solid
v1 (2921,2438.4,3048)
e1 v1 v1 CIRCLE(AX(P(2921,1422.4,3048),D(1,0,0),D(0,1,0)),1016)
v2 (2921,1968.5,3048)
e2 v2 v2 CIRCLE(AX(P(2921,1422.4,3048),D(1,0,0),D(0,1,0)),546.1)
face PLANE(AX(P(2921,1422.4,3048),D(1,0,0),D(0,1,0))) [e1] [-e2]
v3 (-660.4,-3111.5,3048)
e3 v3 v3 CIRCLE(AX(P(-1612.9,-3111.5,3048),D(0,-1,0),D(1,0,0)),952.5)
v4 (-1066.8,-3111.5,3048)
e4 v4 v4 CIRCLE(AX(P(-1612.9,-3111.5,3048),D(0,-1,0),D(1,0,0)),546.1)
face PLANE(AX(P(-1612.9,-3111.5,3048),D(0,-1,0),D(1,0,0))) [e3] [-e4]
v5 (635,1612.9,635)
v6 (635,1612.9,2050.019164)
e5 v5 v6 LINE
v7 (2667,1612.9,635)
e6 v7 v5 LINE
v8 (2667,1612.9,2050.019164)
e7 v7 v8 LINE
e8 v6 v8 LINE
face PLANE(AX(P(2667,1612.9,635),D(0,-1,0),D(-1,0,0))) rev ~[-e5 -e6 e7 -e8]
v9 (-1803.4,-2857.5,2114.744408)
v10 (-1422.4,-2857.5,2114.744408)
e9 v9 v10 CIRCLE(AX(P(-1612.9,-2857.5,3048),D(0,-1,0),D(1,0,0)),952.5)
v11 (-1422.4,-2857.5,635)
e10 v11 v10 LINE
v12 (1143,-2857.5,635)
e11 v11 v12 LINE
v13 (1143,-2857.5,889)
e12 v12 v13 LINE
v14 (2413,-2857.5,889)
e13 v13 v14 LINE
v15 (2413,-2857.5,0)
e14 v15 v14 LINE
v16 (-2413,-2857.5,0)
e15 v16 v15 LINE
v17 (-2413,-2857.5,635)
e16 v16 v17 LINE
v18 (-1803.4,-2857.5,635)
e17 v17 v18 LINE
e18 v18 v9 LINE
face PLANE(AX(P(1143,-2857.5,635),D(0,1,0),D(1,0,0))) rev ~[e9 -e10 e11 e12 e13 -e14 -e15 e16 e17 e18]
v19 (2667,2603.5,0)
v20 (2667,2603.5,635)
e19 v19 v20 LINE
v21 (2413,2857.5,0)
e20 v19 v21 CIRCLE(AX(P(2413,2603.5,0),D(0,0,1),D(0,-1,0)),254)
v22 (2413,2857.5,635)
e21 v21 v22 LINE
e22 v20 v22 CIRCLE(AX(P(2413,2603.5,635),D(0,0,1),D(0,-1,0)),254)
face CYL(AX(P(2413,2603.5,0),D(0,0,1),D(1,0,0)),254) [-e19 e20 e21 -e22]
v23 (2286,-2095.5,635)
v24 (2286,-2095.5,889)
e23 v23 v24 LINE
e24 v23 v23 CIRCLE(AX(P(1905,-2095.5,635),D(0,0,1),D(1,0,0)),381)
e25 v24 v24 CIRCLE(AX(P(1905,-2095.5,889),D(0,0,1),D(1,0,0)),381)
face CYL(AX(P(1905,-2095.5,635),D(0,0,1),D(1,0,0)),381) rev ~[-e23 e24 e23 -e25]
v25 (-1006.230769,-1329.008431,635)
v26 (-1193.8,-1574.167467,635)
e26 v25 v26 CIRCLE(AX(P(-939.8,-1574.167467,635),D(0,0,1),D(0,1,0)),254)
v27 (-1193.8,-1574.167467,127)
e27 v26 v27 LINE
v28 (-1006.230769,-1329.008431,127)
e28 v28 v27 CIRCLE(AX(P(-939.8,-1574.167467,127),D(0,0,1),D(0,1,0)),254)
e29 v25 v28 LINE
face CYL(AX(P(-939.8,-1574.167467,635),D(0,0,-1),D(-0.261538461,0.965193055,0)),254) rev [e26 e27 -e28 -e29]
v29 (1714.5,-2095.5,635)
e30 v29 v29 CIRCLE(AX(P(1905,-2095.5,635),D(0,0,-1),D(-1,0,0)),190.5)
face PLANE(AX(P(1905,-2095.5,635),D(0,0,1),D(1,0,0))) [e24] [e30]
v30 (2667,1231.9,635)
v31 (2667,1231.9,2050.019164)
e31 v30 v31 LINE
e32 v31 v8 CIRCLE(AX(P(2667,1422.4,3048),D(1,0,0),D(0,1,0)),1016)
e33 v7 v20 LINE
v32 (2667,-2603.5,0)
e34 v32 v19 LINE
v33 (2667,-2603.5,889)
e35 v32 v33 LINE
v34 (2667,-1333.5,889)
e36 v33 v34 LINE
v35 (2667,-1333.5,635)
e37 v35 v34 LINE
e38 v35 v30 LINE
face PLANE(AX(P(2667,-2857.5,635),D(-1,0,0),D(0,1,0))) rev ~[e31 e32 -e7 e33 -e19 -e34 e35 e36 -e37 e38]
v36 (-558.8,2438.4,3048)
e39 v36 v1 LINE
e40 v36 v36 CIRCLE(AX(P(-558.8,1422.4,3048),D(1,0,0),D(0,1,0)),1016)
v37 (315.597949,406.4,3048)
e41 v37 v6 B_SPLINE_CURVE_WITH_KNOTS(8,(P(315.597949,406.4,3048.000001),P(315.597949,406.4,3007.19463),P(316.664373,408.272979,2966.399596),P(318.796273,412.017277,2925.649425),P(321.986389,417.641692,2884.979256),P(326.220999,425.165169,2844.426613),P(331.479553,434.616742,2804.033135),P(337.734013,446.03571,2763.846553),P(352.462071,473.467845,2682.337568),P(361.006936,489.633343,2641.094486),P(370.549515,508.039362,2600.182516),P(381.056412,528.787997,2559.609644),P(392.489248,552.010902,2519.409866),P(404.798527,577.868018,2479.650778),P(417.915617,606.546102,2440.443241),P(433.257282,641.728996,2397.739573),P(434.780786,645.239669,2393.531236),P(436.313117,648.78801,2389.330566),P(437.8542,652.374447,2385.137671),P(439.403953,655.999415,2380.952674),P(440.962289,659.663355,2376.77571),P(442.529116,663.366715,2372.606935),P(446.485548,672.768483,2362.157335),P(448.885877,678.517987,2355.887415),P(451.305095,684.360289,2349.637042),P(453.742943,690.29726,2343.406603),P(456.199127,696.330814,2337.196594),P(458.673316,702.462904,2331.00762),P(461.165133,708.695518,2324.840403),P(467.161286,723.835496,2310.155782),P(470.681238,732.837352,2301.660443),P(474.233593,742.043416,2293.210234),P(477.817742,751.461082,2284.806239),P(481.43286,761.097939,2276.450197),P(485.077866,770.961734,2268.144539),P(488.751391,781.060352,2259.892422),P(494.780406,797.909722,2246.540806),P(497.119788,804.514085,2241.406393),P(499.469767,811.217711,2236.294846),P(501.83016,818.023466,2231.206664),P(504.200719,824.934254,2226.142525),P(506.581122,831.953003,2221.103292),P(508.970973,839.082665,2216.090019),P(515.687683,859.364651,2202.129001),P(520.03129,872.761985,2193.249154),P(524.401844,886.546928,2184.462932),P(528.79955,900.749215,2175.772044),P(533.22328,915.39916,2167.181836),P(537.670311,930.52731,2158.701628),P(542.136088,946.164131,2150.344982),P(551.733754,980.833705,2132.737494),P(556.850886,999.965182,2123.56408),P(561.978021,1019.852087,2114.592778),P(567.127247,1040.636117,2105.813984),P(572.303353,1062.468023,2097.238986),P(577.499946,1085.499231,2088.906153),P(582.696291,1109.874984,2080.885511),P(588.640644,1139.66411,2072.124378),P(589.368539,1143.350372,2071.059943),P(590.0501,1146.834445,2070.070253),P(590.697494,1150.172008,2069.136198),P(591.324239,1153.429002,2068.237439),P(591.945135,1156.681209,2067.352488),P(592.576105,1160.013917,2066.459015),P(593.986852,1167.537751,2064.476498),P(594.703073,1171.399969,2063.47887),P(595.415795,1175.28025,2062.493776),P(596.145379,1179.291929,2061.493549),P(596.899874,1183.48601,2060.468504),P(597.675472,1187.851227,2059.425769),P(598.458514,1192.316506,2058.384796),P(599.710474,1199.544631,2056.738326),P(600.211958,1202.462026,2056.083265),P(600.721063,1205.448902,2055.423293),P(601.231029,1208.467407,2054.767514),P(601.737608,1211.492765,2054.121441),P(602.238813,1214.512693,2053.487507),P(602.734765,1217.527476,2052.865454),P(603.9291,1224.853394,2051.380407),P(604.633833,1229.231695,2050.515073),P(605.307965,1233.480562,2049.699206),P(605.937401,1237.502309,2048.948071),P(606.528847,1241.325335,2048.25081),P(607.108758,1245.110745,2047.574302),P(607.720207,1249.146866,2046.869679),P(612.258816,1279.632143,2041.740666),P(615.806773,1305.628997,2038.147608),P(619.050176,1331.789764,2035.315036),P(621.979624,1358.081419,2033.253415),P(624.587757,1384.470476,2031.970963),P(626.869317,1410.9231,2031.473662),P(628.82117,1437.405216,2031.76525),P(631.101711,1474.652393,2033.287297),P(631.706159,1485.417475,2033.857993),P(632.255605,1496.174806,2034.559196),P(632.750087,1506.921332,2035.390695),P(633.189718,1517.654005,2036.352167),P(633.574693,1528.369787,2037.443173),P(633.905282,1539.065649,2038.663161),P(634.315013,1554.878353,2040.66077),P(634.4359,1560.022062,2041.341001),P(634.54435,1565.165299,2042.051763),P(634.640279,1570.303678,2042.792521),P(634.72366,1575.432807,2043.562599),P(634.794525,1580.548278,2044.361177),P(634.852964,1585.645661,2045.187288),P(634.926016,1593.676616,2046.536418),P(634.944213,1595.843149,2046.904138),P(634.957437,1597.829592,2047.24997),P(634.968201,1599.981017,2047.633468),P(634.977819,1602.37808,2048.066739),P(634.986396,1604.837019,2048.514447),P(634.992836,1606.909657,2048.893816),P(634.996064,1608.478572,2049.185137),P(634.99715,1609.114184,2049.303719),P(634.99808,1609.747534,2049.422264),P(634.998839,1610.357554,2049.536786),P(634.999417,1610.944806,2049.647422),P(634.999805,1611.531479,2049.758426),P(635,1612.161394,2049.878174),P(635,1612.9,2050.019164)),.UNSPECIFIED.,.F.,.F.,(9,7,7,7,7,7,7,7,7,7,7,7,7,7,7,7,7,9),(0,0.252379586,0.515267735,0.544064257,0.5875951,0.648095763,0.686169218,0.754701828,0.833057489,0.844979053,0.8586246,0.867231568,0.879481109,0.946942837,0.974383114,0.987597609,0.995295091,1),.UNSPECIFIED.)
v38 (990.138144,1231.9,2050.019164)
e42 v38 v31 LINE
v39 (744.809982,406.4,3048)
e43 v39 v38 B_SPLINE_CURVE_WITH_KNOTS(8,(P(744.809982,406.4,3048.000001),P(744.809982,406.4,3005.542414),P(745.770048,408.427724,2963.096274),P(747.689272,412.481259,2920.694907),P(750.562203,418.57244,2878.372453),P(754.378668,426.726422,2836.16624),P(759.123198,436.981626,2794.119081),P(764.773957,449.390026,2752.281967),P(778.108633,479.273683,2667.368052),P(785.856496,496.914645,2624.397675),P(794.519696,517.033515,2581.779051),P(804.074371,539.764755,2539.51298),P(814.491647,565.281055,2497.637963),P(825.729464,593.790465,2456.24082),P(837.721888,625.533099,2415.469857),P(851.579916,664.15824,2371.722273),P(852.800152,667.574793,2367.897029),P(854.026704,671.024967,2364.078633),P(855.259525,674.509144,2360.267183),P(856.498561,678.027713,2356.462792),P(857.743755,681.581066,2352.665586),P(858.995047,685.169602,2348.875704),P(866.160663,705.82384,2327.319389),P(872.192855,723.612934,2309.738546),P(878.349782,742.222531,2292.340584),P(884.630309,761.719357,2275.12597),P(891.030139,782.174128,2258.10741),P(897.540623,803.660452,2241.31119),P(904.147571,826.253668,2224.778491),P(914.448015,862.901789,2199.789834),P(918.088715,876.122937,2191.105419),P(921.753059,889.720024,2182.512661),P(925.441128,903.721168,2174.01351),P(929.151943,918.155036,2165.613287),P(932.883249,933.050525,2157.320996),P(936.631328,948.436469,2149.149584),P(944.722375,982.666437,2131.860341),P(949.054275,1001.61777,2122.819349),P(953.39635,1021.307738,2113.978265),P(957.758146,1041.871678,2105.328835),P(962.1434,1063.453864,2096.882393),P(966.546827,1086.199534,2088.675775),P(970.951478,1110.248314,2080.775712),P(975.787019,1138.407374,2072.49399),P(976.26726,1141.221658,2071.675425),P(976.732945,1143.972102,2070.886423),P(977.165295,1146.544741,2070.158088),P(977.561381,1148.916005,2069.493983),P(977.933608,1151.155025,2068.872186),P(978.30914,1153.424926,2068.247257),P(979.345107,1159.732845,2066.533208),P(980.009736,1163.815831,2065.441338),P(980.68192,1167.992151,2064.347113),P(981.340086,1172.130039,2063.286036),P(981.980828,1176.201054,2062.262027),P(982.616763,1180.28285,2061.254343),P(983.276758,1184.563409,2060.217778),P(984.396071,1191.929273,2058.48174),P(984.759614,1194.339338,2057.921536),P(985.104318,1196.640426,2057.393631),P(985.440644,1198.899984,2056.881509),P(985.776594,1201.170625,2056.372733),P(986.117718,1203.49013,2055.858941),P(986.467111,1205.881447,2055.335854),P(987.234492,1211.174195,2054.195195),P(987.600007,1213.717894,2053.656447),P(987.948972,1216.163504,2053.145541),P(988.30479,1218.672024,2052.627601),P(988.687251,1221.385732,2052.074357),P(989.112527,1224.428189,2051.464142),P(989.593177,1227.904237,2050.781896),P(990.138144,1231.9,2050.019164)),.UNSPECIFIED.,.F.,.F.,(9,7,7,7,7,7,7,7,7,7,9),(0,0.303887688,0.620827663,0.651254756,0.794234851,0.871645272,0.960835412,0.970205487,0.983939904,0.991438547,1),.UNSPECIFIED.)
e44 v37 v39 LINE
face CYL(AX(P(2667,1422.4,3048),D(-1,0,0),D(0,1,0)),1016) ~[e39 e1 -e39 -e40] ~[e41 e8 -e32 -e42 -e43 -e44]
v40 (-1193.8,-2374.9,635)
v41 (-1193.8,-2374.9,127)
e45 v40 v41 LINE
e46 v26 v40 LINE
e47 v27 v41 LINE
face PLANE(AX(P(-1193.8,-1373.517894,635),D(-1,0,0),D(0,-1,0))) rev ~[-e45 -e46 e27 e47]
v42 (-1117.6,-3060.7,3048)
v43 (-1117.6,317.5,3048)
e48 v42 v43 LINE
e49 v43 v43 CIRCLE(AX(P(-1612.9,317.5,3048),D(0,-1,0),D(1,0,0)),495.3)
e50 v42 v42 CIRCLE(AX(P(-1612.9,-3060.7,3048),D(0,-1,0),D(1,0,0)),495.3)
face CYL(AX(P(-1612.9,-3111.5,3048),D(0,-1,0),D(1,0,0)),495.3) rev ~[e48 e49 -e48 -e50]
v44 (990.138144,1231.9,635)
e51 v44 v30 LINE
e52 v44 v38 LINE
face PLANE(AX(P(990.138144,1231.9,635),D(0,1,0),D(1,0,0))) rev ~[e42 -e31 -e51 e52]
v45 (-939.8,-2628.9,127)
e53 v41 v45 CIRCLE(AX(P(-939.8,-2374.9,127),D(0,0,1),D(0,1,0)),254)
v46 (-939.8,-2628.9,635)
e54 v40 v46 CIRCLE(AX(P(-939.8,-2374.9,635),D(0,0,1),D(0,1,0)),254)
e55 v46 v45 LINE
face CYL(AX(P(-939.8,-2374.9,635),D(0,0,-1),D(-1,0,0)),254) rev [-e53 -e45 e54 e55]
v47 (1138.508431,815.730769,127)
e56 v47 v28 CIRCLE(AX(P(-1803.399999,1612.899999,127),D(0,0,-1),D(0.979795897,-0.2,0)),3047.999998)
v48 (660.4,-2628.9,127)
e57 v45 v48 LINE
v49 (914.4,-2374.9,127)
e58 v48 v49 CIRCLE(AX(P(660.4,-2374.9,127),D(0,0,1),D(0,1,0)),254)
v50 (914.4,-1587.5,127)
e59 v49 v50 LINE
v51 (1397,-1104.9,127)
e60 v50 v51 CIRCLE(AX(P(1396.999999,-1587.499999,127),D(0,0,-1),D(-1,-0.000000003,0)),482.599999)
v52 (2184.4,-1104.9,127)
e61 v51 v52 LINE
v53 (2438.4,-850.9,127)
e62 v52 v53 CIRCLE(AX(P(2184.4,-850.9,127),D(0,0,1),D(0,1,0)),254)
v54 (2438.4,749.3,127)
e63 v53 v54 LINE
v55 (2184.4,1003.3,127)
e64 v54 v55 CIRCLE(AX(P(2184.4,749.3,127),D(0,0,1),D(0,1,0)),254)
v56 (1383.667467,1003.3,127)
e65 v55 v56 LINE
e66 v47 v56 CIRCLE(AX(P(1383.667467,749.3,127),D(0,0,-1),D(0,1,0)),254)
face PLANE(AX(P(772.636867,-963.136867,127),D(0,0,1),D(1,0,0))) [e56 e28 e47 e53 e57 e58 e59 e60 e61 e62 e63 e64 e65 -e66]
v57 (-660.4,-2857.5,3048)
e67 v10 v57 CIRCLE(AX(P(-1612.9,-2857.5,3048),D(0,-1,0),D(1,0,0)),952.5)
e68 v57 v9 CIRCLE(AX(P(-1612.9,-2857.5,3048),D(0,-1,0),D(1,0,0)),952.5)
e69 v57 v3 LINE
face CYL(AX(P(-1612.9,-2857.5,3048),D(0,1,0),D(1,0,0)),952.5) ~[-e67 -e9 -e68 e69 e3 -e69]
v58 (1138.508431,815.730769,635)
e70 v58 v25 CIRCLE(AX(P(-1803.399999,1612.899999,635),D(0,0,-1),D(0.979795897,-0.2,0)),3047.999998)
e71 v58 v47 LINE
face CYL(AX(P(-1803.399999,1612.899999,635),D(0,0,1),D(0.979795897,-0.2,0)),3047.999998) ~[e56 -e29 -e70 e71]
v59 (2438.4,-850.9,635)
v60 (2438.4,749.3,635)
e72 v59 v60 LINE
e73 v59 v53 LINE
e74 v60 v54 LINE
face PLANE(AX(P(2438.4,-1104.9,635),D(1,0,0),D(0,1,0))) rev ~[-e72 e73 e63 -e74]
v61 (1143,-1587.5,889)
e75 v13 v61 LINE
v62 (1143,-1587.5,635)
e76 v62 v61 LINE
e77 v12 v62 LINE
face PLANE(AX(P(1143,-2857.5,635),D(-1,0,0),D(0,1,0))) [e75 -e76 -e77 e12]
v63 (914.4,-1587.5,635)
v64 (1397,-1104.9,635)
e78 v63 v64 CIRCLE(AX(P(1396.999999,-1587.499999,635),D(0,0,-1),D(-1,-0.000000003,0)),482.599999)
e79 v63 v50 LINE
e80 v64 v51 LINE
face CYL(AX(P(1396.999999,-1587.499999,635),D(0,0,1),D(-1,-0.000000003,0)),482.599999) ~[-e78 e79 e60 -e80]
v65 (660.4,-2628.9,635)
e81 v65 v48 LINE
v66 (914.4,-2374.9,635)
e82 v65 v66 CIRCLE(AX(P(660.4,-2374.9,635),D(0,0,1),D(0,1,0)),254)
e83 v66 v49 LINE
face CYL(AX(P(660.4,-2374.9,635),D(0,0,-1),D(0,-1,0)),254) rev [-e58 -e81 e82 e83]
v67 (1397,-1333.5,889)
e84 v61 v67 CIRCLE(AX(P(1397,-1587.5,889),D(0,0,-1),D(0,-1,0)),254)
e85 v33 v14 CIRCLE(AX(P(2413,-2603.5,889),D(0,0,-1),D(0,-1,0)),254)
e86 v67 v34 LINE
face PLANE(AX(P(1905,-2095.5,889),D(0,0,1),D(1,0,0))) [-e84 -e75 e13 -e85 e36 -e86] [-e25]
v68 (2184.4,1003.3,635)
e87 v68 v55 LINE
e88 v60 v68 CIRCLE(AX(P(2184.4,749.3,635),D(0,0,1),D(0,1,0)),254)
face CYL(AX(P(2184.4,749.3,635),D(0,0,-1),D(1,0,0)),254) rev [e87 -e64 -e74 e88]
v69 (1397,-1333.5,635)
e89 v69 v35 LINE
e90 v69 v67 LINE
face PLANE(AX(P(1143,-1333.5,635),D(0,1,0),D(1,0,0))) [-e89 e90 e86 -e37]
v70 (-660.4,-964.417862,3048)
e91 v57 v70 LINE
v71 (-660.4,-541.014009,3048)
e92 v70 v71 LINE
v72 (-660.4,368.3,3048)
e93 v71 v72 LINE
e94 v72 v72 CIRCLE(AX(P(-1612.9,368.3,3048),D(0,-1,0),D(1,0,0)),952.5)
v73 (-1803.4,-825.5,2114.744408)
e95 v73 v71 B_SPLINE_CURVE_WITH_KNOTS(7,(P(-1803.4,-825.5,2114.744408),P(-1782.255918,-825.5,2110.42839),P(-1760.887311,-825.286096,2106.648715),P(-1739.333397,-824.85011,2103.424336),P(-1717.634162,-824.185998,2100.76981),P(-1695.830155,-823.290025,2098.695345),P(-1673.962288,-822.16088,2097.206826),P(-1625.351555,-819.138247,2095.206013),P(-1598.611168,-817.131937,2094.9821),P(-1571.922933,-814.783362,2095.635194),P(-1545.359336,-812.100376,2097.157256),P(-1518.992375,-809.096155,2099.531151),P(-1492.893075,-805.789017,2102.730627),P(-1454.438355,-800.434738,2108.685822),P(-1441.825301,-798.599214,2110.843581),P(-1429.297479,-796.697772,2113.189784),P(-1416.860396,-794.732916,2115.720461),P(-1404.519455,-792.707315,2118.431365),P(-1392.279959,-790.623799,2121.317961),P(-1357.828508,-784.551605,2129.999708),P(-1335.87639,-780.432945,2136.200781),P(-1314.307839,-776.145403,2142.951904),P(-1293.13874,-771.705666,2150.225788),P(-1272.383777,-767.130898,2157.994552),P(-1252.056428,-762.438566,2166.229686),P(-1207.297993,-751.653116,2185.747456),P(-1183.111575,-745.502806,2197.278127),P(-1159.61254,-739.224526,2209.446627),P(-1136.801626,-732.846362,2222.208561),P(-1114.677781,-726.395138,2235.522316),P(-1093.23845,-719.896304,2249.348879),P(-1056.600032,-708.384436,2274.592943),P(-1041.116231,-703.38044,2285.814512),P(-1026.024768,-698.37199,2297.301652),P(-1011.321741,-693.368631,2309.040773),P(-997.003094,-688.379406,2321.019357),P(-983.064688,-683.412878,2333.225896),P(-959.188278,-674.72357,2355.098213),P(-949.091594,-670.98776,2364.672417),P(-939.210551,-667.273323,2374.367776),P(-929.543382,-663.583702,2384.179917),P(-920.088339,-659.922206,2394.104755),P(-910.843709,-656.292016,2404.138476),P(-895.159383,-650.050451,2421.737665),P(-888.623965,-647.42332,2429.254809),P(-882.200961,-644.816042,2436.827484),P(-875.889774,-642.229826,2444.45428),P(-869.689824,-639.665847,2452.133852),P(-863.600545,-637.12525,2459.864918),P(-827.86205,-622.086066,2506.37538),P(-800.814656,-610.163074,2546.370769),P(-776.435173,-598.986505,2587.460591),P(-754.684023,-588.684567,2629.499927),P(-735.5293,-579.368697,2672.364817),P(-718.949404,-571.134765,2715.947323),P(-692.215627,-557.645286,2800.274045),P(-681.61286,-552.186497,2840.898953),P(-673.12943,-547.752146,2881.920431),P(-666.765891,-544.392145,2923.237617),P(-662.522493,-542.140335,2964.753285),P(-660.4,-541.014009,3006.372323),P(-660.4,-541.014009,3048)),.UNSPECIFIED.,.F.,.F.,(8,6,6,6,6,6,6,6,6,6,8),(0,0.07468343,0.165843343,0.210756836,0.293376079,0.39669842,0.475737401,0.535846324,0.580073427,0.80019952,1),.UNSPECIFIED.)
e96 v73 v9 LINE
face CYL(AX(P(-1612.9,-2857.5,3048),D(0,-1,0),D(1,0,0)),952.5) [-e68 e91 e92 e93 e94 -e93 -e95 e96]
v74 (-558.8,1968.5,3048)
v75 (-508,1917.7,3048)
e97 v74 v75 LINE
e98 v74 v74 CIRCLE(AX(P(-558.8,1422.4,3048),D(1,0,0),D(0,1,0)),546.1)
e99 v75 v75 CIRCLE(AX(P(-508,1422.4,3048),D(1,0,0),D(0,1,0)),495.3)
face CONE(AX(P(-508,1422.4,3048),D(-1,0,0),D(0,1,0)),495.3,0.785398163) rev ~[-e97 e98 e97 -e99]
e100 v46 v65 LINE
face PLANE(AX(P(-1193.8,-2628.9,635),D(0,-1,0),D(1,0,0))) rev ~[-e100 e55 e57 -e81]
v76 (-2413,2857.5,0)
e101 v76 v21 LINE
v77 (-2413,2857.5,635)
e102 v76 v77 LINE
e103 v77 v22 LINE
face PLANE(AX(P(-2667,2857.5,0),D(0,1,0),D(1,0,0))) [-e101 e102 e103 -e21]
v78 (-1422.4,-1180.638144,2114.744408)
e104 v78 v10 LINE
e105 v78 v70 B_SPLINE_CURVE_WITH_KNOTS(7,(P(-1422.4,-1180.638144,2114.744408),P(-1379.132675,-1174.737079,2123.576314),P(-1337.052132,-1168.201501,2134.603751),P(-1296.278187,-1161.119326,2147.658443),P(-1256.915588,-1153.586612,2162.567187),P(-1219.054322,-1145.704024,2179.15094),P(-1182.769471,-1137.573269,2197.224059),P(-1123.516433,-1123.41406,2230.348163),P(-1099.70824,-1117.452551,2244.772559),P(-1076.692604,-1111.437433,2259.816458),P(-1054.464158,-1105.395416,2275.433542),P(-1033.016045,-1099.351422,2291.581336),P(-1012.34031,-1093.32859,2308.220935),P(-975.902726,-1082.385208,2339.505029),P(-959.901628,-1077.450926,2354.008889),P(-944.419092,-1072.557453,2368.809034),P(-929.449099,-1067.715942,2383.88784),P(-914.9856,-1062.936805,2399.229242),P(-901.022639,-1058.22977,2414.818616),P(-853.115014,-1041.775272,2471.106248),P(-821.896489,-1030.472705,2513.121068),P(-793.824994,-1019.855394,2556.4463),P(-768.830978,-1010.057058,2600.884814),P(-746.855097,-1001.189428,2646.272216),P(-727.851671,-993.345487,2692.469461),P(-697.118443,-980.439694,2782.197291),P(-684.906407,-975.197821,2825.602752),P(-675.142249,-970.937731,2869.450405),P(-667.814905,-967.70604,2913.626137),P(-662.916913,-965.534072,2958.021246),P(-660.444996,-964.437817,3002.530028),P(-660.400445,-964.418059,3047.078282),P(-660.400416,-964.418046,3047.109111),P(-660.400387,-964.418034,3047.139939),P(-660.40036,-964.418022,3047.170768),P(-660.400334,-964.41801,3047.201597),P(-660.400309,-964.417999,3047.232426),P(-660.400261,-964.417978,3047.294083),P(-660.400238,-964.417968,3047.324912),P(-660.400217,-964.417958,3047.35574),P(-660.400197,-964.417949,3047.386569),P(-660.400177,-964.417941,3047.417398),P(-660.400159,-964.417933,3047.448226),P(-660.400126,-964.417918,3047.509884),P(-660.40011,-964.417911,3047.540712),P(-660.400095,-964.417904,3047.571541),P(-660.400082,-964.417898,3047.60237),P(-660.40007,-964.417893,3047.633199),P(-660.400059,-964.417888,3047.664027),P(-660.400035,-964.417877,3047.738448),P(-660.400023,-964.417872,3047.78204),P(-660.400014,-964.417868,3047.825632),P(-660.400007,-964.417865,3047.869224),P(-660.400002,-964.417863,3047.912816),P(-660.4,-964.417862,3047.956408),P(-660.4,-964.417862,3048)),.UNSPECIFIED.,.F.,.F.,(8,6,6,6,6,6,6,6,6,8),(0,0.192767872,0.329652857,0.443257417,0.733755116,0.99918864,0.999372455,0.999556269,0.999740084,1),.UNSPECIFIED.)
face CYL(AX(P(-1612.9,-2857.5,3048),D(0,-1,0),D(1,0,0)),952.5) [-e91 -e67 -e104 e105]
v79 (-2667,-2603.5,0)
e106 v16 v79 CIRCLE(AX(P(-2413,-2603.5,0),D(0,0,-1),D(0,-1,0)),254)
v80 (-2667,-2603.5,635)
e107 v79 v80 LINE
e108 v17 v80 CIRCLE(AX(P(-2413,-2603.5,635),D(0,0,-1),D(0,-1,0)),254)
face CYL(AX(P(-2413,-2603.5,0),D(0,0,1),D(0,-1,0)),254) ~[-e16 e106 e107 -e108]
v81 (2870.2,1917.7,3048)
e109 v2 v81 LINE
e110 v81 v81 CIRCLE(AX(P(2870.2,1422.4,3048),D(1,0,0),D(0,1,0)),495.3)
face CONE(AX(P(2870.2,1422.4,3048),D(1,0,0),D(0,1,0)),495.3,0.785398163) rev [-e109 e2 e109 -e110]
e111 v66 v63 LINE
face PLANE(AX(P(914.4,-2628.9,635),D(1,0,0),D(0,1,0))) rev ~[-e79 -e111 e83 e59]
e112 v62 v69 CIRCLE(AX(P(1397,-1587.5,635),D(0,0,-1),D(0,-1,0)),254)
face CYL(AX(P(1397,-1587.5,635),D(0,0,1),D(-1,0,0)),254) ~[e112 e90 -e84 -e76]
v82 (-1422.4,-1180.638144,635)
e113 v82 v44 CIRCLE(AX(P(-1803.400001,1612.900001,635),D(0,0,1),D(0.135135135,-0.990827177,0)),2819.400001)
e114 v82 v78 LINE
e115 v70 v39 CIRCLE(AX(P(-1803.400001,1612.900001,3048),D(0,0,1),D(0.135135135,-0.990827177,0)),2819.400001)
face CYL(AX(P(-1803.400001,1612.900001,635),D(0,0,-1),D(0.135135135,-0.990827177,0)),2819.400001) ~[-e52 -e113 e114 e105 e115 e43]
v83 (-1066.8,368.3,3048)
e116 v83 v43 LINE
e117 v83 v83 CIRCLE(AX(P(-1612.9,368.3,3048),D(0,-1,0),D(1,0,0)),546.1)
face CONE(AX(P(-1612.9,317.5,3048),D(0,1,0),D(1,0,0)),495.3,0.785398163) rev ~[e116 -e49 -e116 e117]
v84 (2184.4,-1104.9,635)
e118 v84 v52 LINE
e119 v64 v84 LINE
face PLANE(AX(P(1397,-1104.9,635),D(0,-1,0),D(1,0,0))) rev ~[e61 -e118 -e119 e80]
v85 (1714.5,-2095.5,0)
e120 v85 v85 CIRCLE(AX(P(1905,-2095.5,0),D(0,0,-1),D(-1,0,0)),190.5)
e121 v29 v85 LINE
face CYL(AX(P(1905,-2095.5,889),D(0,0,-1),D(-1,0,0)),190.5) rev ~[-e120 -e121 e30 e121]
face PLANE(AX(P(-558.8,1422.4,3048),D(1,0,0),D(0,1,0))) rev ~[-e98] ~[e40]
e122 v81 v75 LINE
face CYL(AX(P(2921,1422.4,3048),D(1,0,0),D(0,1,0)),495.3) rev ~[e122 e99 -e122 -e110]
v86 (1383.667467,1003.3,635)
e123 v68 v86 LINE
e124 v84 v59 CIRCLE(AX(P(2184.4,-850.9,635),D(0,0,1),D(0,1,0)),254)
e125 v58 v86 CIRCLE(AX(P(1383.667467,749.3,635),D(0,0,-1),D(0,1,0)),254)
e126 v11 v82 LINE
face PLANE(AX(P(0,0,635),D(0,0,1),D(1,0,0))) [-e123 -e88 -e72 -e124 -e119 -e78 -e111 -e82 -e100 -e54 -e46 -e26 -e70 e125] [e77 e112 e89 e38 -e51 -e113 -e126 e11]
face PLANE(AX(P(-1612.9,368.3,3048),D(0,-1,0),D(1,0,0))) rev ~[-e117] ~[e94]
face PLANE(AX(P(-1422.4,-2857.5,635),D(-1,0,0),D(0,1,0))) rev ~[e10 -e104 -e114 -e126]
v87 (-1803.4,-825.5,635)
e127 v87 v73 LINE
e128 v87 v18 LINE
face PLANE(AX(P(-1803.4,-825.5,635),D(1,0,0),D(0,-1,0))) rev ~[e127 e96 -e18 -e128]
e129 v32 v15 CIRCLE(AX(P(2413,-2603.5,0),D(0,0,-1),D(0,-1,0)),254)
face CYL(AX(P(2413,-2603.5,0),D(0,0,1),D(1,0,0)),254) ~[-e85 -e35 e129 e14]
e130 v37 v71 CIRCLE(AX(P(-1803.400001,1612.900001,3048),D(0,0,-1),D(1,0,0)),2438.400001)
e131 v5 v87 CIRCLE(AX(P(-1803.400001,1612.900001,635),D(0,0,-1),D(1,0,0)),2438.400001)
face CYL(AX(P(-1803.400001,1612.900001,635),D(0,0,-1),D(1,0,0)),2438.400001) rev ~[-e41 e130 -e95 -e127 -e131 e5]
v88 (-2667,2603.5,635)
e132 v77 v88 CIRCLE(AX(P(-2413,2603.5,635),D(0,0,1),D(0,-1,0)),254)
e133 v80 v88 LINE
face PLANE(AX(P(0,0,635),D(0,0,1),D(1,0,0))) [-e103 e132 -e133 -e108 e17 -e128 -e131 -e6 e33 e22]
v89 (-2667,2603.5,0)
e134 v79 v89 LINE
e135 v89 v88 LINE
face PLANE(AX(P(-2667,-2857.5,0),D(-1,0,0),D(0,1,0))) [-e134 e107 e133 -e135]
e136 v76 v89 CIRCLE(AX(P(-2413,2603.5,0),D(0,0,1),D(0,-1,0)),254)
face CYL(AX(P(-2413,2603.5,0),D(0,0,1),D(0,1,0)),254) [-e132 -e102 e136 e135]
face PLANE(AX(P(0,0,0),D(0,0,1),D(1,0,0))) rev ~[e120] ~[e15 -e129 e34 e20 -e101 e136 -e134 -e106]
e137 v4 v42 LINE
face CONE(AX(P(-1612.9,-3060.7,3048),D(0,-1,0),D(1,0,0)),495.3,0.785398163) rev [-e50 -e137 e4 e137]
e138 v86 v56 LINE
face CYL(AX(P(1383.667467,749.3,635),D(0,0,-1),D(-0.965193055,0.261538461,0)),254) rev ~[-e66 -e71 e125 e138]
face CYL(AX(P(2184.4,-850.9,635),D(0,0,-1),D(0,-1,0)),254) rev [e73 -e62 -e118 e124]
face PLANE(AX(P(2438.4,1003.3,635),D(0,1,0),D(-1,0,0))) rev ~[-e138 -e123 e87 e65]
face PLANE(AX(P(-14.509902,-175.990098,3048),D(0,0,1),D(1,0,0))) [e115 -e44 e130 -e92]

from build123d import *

# Parameters (mm, degrees)
F0_W            = 5334
F0_H            = 5715
F1_DEPTH        = 635
F3_DEPTH        = 2413
F4_R            = 952.5
F5_DEPTH        = 254
F5_DEPTH_BACK   = 3225.8
F6_R            = 1016
F7_DEPTH        = 254
F7_DEPTH_BACK   = 3225.8
F8_W            = 1524
F8_H            = 1524
F9_DEPTH        = 254
F10_R           = 254
F12_DEPTH       = 508
F14_D           = 381
F14_CBORE_D     = 762
F14_CBORE_DEPTH = 254
F15_R           = 254
F16_R           = 495.3
F17_DEPTH       = 5969.001
F18_R           = 495.3
F19_DEPTH       = 5588.001
F20_SIZE        = 50.8
F21_R           = 254


with BuildPart() as f1:
    # F0 (on Top) → F1 (new body)
    with BuildSketch(Plane.XY):
        Rectangle(F0_W, F0_H)
    extrude(amount=F1_DEPTH)

    # F2 (on face) → F3 (join)
    with BuildSketch(Plane.XY.offset(635)):
        with BuildLine():
            Line((-1803.4, -825.5), (-1803.4, -2857.5))
            Line((-1803.4, -2857.5), (-1422.4, -2857.5))
            Line((-1422.4, -2857.5), (-1422.4, -1180.638144))
            ThreePointArc((-1422.4, -1180.638144), (190.216859, -380.716859), (990.138144, 1231.9))
            Line((990.138144, 1231.9), (2667, 1231.9))
            Line((2667, 1231.9), (2667, 1612.9))
            Line((2667, 1612.9), (635, 1612.9))
            ThreePointArc((635, 1612.9), (-79.190825, -111.309175), (-1803.4, -825.5))
        make_face()
    extrude(amount=F3_DEPTH)

    # F4 (on face) → F5 (join, two sides)
    with BuildSketch(Plane.XZ.offset(2857.5)) as f5_sk:
        with Locations((-1612.9, 3048)):
            Circle(F4_R)
    extrude(amount=F5_DEPTH)
    extrude(f5_sk.sketch, amount=-F5_DEPTH_BACK)

    # F6 (on face) → F7 (join, two sides)
    with BuildSketch(Plane.YZ.offset(2667)) as f7_sk:
        with Locations((1422.4, 3048)):
            Circle(F6_R)
    extrude(amount=F7_DEPTH)
    extrude(f7_sk.sketch, amount=-F7_DEPTH_BACK)

    # F8 (on face) → F9 (join)
    with BuildSketch(Plane.XY.offset(635)):
        with Locations((1905, -2095.5)):
            Rectangle(F8_W, F8_H)
    extrude(amount=F9_DEPTH)

    # F10
    f10_edges = [f1.edges().sort_by_distance(p)[0] for p in [
        (1143, -1333.5, 762),
    ]]
    fillet(f10_edges, radius=F10_R)

    # F11 (on face) → F12 (cut)
    with BuildSketch(Plane.XY.offset(635)):
        with BuildLine():
            ThreePointArc((1183.017894, 1003.3), (351.861469, -542.361469), (-1193.8, -1373.517894))
            Line((-1193.8, -1373.517894), (-1193.8, -2628.9))
            Line((-1193.8, -2628.9), (914.4, -2628.9))
            Line((914.4, -2628.9), (914.4, -1587.5))
            ThreePointArc((914.4, -1587.5), (1055.750267, -1246.250267), (1397, -1104.9))
            Line((1397, -1104.9), (2438.4, -1104.9))
            Line((2438.4, -1104.9), (2438.4, 1003.3))
            Line((2438.4, 1003.3), (1183.017894, 1003.3))
        make_face()
    extrude(amount=-F12_DEPTH, mode=Mode.SUBTRACT)

    # F14 (through all)
    with Locations(Plane.XY.offset(889)):
        with Locations((1905, -2095.5)):
            CounterBoreHole(F14_D / 2, F14_CBORE_D / 2, F14_CBORE_DEPTH)

    # F15
    f15_edges = [f1.edges().sort_by_distance(p)[0] for p in [
        (1183.017894, 1003.3, 381),
        (-1193.8, -1373.517894, 381),
        (2438.4, 1003.3, 381),
        (-1193.8, -2628.9, 381),
        (2438.4, -1104.9, 381),
        (914.4, -2628.9, 381),
    ]]
    fillet(f15_edges, radius=F15_R)

    # F16 (on face) → F17 (cut, through all)
    with BuildSketch(Plane.XZ.offset(3111.5)):
        with Locations((-1612.9, 3048)):
            Circle(F16_R)
    extrude(amount=-F17_DEPTH, mode=Mode.SUBTRACT)

    # F18 (on face) → F19 (cut, through all)
    with BuildSketch(Plane.YZ.offset(2921)):
        with Locations((1422.4, 3048)):
            Circle(F18_R)
    extrude(amount=-F19_DEPTH, mode=Mode.SUBTRACT)

    # F20
    f20_edges = [f1.edges().sort_by_distance(p)[0] for p in [
        (2921, 927.1, 3048),
        (-2108.2, -3111.5, 3048),
        (-2108.2, 368.3, 3048),
        (-558.8, 927.1, 3048),
    ]]
    chamfer(f20_edges, length=F20_SIZE)

    # F21
    f21_edges = [f1.edges().sort_by_distance(p)[0] for p in [
        (-2667, -2857.5, 317.5),
        (2667, -2857.5, 444.5),
        (2667, 2857.5, 317.5),
        (-2667, 2857.5, 317.5),
    ]]
    fillet(f21_edges, radius=F21_R)


solid = f1.part
